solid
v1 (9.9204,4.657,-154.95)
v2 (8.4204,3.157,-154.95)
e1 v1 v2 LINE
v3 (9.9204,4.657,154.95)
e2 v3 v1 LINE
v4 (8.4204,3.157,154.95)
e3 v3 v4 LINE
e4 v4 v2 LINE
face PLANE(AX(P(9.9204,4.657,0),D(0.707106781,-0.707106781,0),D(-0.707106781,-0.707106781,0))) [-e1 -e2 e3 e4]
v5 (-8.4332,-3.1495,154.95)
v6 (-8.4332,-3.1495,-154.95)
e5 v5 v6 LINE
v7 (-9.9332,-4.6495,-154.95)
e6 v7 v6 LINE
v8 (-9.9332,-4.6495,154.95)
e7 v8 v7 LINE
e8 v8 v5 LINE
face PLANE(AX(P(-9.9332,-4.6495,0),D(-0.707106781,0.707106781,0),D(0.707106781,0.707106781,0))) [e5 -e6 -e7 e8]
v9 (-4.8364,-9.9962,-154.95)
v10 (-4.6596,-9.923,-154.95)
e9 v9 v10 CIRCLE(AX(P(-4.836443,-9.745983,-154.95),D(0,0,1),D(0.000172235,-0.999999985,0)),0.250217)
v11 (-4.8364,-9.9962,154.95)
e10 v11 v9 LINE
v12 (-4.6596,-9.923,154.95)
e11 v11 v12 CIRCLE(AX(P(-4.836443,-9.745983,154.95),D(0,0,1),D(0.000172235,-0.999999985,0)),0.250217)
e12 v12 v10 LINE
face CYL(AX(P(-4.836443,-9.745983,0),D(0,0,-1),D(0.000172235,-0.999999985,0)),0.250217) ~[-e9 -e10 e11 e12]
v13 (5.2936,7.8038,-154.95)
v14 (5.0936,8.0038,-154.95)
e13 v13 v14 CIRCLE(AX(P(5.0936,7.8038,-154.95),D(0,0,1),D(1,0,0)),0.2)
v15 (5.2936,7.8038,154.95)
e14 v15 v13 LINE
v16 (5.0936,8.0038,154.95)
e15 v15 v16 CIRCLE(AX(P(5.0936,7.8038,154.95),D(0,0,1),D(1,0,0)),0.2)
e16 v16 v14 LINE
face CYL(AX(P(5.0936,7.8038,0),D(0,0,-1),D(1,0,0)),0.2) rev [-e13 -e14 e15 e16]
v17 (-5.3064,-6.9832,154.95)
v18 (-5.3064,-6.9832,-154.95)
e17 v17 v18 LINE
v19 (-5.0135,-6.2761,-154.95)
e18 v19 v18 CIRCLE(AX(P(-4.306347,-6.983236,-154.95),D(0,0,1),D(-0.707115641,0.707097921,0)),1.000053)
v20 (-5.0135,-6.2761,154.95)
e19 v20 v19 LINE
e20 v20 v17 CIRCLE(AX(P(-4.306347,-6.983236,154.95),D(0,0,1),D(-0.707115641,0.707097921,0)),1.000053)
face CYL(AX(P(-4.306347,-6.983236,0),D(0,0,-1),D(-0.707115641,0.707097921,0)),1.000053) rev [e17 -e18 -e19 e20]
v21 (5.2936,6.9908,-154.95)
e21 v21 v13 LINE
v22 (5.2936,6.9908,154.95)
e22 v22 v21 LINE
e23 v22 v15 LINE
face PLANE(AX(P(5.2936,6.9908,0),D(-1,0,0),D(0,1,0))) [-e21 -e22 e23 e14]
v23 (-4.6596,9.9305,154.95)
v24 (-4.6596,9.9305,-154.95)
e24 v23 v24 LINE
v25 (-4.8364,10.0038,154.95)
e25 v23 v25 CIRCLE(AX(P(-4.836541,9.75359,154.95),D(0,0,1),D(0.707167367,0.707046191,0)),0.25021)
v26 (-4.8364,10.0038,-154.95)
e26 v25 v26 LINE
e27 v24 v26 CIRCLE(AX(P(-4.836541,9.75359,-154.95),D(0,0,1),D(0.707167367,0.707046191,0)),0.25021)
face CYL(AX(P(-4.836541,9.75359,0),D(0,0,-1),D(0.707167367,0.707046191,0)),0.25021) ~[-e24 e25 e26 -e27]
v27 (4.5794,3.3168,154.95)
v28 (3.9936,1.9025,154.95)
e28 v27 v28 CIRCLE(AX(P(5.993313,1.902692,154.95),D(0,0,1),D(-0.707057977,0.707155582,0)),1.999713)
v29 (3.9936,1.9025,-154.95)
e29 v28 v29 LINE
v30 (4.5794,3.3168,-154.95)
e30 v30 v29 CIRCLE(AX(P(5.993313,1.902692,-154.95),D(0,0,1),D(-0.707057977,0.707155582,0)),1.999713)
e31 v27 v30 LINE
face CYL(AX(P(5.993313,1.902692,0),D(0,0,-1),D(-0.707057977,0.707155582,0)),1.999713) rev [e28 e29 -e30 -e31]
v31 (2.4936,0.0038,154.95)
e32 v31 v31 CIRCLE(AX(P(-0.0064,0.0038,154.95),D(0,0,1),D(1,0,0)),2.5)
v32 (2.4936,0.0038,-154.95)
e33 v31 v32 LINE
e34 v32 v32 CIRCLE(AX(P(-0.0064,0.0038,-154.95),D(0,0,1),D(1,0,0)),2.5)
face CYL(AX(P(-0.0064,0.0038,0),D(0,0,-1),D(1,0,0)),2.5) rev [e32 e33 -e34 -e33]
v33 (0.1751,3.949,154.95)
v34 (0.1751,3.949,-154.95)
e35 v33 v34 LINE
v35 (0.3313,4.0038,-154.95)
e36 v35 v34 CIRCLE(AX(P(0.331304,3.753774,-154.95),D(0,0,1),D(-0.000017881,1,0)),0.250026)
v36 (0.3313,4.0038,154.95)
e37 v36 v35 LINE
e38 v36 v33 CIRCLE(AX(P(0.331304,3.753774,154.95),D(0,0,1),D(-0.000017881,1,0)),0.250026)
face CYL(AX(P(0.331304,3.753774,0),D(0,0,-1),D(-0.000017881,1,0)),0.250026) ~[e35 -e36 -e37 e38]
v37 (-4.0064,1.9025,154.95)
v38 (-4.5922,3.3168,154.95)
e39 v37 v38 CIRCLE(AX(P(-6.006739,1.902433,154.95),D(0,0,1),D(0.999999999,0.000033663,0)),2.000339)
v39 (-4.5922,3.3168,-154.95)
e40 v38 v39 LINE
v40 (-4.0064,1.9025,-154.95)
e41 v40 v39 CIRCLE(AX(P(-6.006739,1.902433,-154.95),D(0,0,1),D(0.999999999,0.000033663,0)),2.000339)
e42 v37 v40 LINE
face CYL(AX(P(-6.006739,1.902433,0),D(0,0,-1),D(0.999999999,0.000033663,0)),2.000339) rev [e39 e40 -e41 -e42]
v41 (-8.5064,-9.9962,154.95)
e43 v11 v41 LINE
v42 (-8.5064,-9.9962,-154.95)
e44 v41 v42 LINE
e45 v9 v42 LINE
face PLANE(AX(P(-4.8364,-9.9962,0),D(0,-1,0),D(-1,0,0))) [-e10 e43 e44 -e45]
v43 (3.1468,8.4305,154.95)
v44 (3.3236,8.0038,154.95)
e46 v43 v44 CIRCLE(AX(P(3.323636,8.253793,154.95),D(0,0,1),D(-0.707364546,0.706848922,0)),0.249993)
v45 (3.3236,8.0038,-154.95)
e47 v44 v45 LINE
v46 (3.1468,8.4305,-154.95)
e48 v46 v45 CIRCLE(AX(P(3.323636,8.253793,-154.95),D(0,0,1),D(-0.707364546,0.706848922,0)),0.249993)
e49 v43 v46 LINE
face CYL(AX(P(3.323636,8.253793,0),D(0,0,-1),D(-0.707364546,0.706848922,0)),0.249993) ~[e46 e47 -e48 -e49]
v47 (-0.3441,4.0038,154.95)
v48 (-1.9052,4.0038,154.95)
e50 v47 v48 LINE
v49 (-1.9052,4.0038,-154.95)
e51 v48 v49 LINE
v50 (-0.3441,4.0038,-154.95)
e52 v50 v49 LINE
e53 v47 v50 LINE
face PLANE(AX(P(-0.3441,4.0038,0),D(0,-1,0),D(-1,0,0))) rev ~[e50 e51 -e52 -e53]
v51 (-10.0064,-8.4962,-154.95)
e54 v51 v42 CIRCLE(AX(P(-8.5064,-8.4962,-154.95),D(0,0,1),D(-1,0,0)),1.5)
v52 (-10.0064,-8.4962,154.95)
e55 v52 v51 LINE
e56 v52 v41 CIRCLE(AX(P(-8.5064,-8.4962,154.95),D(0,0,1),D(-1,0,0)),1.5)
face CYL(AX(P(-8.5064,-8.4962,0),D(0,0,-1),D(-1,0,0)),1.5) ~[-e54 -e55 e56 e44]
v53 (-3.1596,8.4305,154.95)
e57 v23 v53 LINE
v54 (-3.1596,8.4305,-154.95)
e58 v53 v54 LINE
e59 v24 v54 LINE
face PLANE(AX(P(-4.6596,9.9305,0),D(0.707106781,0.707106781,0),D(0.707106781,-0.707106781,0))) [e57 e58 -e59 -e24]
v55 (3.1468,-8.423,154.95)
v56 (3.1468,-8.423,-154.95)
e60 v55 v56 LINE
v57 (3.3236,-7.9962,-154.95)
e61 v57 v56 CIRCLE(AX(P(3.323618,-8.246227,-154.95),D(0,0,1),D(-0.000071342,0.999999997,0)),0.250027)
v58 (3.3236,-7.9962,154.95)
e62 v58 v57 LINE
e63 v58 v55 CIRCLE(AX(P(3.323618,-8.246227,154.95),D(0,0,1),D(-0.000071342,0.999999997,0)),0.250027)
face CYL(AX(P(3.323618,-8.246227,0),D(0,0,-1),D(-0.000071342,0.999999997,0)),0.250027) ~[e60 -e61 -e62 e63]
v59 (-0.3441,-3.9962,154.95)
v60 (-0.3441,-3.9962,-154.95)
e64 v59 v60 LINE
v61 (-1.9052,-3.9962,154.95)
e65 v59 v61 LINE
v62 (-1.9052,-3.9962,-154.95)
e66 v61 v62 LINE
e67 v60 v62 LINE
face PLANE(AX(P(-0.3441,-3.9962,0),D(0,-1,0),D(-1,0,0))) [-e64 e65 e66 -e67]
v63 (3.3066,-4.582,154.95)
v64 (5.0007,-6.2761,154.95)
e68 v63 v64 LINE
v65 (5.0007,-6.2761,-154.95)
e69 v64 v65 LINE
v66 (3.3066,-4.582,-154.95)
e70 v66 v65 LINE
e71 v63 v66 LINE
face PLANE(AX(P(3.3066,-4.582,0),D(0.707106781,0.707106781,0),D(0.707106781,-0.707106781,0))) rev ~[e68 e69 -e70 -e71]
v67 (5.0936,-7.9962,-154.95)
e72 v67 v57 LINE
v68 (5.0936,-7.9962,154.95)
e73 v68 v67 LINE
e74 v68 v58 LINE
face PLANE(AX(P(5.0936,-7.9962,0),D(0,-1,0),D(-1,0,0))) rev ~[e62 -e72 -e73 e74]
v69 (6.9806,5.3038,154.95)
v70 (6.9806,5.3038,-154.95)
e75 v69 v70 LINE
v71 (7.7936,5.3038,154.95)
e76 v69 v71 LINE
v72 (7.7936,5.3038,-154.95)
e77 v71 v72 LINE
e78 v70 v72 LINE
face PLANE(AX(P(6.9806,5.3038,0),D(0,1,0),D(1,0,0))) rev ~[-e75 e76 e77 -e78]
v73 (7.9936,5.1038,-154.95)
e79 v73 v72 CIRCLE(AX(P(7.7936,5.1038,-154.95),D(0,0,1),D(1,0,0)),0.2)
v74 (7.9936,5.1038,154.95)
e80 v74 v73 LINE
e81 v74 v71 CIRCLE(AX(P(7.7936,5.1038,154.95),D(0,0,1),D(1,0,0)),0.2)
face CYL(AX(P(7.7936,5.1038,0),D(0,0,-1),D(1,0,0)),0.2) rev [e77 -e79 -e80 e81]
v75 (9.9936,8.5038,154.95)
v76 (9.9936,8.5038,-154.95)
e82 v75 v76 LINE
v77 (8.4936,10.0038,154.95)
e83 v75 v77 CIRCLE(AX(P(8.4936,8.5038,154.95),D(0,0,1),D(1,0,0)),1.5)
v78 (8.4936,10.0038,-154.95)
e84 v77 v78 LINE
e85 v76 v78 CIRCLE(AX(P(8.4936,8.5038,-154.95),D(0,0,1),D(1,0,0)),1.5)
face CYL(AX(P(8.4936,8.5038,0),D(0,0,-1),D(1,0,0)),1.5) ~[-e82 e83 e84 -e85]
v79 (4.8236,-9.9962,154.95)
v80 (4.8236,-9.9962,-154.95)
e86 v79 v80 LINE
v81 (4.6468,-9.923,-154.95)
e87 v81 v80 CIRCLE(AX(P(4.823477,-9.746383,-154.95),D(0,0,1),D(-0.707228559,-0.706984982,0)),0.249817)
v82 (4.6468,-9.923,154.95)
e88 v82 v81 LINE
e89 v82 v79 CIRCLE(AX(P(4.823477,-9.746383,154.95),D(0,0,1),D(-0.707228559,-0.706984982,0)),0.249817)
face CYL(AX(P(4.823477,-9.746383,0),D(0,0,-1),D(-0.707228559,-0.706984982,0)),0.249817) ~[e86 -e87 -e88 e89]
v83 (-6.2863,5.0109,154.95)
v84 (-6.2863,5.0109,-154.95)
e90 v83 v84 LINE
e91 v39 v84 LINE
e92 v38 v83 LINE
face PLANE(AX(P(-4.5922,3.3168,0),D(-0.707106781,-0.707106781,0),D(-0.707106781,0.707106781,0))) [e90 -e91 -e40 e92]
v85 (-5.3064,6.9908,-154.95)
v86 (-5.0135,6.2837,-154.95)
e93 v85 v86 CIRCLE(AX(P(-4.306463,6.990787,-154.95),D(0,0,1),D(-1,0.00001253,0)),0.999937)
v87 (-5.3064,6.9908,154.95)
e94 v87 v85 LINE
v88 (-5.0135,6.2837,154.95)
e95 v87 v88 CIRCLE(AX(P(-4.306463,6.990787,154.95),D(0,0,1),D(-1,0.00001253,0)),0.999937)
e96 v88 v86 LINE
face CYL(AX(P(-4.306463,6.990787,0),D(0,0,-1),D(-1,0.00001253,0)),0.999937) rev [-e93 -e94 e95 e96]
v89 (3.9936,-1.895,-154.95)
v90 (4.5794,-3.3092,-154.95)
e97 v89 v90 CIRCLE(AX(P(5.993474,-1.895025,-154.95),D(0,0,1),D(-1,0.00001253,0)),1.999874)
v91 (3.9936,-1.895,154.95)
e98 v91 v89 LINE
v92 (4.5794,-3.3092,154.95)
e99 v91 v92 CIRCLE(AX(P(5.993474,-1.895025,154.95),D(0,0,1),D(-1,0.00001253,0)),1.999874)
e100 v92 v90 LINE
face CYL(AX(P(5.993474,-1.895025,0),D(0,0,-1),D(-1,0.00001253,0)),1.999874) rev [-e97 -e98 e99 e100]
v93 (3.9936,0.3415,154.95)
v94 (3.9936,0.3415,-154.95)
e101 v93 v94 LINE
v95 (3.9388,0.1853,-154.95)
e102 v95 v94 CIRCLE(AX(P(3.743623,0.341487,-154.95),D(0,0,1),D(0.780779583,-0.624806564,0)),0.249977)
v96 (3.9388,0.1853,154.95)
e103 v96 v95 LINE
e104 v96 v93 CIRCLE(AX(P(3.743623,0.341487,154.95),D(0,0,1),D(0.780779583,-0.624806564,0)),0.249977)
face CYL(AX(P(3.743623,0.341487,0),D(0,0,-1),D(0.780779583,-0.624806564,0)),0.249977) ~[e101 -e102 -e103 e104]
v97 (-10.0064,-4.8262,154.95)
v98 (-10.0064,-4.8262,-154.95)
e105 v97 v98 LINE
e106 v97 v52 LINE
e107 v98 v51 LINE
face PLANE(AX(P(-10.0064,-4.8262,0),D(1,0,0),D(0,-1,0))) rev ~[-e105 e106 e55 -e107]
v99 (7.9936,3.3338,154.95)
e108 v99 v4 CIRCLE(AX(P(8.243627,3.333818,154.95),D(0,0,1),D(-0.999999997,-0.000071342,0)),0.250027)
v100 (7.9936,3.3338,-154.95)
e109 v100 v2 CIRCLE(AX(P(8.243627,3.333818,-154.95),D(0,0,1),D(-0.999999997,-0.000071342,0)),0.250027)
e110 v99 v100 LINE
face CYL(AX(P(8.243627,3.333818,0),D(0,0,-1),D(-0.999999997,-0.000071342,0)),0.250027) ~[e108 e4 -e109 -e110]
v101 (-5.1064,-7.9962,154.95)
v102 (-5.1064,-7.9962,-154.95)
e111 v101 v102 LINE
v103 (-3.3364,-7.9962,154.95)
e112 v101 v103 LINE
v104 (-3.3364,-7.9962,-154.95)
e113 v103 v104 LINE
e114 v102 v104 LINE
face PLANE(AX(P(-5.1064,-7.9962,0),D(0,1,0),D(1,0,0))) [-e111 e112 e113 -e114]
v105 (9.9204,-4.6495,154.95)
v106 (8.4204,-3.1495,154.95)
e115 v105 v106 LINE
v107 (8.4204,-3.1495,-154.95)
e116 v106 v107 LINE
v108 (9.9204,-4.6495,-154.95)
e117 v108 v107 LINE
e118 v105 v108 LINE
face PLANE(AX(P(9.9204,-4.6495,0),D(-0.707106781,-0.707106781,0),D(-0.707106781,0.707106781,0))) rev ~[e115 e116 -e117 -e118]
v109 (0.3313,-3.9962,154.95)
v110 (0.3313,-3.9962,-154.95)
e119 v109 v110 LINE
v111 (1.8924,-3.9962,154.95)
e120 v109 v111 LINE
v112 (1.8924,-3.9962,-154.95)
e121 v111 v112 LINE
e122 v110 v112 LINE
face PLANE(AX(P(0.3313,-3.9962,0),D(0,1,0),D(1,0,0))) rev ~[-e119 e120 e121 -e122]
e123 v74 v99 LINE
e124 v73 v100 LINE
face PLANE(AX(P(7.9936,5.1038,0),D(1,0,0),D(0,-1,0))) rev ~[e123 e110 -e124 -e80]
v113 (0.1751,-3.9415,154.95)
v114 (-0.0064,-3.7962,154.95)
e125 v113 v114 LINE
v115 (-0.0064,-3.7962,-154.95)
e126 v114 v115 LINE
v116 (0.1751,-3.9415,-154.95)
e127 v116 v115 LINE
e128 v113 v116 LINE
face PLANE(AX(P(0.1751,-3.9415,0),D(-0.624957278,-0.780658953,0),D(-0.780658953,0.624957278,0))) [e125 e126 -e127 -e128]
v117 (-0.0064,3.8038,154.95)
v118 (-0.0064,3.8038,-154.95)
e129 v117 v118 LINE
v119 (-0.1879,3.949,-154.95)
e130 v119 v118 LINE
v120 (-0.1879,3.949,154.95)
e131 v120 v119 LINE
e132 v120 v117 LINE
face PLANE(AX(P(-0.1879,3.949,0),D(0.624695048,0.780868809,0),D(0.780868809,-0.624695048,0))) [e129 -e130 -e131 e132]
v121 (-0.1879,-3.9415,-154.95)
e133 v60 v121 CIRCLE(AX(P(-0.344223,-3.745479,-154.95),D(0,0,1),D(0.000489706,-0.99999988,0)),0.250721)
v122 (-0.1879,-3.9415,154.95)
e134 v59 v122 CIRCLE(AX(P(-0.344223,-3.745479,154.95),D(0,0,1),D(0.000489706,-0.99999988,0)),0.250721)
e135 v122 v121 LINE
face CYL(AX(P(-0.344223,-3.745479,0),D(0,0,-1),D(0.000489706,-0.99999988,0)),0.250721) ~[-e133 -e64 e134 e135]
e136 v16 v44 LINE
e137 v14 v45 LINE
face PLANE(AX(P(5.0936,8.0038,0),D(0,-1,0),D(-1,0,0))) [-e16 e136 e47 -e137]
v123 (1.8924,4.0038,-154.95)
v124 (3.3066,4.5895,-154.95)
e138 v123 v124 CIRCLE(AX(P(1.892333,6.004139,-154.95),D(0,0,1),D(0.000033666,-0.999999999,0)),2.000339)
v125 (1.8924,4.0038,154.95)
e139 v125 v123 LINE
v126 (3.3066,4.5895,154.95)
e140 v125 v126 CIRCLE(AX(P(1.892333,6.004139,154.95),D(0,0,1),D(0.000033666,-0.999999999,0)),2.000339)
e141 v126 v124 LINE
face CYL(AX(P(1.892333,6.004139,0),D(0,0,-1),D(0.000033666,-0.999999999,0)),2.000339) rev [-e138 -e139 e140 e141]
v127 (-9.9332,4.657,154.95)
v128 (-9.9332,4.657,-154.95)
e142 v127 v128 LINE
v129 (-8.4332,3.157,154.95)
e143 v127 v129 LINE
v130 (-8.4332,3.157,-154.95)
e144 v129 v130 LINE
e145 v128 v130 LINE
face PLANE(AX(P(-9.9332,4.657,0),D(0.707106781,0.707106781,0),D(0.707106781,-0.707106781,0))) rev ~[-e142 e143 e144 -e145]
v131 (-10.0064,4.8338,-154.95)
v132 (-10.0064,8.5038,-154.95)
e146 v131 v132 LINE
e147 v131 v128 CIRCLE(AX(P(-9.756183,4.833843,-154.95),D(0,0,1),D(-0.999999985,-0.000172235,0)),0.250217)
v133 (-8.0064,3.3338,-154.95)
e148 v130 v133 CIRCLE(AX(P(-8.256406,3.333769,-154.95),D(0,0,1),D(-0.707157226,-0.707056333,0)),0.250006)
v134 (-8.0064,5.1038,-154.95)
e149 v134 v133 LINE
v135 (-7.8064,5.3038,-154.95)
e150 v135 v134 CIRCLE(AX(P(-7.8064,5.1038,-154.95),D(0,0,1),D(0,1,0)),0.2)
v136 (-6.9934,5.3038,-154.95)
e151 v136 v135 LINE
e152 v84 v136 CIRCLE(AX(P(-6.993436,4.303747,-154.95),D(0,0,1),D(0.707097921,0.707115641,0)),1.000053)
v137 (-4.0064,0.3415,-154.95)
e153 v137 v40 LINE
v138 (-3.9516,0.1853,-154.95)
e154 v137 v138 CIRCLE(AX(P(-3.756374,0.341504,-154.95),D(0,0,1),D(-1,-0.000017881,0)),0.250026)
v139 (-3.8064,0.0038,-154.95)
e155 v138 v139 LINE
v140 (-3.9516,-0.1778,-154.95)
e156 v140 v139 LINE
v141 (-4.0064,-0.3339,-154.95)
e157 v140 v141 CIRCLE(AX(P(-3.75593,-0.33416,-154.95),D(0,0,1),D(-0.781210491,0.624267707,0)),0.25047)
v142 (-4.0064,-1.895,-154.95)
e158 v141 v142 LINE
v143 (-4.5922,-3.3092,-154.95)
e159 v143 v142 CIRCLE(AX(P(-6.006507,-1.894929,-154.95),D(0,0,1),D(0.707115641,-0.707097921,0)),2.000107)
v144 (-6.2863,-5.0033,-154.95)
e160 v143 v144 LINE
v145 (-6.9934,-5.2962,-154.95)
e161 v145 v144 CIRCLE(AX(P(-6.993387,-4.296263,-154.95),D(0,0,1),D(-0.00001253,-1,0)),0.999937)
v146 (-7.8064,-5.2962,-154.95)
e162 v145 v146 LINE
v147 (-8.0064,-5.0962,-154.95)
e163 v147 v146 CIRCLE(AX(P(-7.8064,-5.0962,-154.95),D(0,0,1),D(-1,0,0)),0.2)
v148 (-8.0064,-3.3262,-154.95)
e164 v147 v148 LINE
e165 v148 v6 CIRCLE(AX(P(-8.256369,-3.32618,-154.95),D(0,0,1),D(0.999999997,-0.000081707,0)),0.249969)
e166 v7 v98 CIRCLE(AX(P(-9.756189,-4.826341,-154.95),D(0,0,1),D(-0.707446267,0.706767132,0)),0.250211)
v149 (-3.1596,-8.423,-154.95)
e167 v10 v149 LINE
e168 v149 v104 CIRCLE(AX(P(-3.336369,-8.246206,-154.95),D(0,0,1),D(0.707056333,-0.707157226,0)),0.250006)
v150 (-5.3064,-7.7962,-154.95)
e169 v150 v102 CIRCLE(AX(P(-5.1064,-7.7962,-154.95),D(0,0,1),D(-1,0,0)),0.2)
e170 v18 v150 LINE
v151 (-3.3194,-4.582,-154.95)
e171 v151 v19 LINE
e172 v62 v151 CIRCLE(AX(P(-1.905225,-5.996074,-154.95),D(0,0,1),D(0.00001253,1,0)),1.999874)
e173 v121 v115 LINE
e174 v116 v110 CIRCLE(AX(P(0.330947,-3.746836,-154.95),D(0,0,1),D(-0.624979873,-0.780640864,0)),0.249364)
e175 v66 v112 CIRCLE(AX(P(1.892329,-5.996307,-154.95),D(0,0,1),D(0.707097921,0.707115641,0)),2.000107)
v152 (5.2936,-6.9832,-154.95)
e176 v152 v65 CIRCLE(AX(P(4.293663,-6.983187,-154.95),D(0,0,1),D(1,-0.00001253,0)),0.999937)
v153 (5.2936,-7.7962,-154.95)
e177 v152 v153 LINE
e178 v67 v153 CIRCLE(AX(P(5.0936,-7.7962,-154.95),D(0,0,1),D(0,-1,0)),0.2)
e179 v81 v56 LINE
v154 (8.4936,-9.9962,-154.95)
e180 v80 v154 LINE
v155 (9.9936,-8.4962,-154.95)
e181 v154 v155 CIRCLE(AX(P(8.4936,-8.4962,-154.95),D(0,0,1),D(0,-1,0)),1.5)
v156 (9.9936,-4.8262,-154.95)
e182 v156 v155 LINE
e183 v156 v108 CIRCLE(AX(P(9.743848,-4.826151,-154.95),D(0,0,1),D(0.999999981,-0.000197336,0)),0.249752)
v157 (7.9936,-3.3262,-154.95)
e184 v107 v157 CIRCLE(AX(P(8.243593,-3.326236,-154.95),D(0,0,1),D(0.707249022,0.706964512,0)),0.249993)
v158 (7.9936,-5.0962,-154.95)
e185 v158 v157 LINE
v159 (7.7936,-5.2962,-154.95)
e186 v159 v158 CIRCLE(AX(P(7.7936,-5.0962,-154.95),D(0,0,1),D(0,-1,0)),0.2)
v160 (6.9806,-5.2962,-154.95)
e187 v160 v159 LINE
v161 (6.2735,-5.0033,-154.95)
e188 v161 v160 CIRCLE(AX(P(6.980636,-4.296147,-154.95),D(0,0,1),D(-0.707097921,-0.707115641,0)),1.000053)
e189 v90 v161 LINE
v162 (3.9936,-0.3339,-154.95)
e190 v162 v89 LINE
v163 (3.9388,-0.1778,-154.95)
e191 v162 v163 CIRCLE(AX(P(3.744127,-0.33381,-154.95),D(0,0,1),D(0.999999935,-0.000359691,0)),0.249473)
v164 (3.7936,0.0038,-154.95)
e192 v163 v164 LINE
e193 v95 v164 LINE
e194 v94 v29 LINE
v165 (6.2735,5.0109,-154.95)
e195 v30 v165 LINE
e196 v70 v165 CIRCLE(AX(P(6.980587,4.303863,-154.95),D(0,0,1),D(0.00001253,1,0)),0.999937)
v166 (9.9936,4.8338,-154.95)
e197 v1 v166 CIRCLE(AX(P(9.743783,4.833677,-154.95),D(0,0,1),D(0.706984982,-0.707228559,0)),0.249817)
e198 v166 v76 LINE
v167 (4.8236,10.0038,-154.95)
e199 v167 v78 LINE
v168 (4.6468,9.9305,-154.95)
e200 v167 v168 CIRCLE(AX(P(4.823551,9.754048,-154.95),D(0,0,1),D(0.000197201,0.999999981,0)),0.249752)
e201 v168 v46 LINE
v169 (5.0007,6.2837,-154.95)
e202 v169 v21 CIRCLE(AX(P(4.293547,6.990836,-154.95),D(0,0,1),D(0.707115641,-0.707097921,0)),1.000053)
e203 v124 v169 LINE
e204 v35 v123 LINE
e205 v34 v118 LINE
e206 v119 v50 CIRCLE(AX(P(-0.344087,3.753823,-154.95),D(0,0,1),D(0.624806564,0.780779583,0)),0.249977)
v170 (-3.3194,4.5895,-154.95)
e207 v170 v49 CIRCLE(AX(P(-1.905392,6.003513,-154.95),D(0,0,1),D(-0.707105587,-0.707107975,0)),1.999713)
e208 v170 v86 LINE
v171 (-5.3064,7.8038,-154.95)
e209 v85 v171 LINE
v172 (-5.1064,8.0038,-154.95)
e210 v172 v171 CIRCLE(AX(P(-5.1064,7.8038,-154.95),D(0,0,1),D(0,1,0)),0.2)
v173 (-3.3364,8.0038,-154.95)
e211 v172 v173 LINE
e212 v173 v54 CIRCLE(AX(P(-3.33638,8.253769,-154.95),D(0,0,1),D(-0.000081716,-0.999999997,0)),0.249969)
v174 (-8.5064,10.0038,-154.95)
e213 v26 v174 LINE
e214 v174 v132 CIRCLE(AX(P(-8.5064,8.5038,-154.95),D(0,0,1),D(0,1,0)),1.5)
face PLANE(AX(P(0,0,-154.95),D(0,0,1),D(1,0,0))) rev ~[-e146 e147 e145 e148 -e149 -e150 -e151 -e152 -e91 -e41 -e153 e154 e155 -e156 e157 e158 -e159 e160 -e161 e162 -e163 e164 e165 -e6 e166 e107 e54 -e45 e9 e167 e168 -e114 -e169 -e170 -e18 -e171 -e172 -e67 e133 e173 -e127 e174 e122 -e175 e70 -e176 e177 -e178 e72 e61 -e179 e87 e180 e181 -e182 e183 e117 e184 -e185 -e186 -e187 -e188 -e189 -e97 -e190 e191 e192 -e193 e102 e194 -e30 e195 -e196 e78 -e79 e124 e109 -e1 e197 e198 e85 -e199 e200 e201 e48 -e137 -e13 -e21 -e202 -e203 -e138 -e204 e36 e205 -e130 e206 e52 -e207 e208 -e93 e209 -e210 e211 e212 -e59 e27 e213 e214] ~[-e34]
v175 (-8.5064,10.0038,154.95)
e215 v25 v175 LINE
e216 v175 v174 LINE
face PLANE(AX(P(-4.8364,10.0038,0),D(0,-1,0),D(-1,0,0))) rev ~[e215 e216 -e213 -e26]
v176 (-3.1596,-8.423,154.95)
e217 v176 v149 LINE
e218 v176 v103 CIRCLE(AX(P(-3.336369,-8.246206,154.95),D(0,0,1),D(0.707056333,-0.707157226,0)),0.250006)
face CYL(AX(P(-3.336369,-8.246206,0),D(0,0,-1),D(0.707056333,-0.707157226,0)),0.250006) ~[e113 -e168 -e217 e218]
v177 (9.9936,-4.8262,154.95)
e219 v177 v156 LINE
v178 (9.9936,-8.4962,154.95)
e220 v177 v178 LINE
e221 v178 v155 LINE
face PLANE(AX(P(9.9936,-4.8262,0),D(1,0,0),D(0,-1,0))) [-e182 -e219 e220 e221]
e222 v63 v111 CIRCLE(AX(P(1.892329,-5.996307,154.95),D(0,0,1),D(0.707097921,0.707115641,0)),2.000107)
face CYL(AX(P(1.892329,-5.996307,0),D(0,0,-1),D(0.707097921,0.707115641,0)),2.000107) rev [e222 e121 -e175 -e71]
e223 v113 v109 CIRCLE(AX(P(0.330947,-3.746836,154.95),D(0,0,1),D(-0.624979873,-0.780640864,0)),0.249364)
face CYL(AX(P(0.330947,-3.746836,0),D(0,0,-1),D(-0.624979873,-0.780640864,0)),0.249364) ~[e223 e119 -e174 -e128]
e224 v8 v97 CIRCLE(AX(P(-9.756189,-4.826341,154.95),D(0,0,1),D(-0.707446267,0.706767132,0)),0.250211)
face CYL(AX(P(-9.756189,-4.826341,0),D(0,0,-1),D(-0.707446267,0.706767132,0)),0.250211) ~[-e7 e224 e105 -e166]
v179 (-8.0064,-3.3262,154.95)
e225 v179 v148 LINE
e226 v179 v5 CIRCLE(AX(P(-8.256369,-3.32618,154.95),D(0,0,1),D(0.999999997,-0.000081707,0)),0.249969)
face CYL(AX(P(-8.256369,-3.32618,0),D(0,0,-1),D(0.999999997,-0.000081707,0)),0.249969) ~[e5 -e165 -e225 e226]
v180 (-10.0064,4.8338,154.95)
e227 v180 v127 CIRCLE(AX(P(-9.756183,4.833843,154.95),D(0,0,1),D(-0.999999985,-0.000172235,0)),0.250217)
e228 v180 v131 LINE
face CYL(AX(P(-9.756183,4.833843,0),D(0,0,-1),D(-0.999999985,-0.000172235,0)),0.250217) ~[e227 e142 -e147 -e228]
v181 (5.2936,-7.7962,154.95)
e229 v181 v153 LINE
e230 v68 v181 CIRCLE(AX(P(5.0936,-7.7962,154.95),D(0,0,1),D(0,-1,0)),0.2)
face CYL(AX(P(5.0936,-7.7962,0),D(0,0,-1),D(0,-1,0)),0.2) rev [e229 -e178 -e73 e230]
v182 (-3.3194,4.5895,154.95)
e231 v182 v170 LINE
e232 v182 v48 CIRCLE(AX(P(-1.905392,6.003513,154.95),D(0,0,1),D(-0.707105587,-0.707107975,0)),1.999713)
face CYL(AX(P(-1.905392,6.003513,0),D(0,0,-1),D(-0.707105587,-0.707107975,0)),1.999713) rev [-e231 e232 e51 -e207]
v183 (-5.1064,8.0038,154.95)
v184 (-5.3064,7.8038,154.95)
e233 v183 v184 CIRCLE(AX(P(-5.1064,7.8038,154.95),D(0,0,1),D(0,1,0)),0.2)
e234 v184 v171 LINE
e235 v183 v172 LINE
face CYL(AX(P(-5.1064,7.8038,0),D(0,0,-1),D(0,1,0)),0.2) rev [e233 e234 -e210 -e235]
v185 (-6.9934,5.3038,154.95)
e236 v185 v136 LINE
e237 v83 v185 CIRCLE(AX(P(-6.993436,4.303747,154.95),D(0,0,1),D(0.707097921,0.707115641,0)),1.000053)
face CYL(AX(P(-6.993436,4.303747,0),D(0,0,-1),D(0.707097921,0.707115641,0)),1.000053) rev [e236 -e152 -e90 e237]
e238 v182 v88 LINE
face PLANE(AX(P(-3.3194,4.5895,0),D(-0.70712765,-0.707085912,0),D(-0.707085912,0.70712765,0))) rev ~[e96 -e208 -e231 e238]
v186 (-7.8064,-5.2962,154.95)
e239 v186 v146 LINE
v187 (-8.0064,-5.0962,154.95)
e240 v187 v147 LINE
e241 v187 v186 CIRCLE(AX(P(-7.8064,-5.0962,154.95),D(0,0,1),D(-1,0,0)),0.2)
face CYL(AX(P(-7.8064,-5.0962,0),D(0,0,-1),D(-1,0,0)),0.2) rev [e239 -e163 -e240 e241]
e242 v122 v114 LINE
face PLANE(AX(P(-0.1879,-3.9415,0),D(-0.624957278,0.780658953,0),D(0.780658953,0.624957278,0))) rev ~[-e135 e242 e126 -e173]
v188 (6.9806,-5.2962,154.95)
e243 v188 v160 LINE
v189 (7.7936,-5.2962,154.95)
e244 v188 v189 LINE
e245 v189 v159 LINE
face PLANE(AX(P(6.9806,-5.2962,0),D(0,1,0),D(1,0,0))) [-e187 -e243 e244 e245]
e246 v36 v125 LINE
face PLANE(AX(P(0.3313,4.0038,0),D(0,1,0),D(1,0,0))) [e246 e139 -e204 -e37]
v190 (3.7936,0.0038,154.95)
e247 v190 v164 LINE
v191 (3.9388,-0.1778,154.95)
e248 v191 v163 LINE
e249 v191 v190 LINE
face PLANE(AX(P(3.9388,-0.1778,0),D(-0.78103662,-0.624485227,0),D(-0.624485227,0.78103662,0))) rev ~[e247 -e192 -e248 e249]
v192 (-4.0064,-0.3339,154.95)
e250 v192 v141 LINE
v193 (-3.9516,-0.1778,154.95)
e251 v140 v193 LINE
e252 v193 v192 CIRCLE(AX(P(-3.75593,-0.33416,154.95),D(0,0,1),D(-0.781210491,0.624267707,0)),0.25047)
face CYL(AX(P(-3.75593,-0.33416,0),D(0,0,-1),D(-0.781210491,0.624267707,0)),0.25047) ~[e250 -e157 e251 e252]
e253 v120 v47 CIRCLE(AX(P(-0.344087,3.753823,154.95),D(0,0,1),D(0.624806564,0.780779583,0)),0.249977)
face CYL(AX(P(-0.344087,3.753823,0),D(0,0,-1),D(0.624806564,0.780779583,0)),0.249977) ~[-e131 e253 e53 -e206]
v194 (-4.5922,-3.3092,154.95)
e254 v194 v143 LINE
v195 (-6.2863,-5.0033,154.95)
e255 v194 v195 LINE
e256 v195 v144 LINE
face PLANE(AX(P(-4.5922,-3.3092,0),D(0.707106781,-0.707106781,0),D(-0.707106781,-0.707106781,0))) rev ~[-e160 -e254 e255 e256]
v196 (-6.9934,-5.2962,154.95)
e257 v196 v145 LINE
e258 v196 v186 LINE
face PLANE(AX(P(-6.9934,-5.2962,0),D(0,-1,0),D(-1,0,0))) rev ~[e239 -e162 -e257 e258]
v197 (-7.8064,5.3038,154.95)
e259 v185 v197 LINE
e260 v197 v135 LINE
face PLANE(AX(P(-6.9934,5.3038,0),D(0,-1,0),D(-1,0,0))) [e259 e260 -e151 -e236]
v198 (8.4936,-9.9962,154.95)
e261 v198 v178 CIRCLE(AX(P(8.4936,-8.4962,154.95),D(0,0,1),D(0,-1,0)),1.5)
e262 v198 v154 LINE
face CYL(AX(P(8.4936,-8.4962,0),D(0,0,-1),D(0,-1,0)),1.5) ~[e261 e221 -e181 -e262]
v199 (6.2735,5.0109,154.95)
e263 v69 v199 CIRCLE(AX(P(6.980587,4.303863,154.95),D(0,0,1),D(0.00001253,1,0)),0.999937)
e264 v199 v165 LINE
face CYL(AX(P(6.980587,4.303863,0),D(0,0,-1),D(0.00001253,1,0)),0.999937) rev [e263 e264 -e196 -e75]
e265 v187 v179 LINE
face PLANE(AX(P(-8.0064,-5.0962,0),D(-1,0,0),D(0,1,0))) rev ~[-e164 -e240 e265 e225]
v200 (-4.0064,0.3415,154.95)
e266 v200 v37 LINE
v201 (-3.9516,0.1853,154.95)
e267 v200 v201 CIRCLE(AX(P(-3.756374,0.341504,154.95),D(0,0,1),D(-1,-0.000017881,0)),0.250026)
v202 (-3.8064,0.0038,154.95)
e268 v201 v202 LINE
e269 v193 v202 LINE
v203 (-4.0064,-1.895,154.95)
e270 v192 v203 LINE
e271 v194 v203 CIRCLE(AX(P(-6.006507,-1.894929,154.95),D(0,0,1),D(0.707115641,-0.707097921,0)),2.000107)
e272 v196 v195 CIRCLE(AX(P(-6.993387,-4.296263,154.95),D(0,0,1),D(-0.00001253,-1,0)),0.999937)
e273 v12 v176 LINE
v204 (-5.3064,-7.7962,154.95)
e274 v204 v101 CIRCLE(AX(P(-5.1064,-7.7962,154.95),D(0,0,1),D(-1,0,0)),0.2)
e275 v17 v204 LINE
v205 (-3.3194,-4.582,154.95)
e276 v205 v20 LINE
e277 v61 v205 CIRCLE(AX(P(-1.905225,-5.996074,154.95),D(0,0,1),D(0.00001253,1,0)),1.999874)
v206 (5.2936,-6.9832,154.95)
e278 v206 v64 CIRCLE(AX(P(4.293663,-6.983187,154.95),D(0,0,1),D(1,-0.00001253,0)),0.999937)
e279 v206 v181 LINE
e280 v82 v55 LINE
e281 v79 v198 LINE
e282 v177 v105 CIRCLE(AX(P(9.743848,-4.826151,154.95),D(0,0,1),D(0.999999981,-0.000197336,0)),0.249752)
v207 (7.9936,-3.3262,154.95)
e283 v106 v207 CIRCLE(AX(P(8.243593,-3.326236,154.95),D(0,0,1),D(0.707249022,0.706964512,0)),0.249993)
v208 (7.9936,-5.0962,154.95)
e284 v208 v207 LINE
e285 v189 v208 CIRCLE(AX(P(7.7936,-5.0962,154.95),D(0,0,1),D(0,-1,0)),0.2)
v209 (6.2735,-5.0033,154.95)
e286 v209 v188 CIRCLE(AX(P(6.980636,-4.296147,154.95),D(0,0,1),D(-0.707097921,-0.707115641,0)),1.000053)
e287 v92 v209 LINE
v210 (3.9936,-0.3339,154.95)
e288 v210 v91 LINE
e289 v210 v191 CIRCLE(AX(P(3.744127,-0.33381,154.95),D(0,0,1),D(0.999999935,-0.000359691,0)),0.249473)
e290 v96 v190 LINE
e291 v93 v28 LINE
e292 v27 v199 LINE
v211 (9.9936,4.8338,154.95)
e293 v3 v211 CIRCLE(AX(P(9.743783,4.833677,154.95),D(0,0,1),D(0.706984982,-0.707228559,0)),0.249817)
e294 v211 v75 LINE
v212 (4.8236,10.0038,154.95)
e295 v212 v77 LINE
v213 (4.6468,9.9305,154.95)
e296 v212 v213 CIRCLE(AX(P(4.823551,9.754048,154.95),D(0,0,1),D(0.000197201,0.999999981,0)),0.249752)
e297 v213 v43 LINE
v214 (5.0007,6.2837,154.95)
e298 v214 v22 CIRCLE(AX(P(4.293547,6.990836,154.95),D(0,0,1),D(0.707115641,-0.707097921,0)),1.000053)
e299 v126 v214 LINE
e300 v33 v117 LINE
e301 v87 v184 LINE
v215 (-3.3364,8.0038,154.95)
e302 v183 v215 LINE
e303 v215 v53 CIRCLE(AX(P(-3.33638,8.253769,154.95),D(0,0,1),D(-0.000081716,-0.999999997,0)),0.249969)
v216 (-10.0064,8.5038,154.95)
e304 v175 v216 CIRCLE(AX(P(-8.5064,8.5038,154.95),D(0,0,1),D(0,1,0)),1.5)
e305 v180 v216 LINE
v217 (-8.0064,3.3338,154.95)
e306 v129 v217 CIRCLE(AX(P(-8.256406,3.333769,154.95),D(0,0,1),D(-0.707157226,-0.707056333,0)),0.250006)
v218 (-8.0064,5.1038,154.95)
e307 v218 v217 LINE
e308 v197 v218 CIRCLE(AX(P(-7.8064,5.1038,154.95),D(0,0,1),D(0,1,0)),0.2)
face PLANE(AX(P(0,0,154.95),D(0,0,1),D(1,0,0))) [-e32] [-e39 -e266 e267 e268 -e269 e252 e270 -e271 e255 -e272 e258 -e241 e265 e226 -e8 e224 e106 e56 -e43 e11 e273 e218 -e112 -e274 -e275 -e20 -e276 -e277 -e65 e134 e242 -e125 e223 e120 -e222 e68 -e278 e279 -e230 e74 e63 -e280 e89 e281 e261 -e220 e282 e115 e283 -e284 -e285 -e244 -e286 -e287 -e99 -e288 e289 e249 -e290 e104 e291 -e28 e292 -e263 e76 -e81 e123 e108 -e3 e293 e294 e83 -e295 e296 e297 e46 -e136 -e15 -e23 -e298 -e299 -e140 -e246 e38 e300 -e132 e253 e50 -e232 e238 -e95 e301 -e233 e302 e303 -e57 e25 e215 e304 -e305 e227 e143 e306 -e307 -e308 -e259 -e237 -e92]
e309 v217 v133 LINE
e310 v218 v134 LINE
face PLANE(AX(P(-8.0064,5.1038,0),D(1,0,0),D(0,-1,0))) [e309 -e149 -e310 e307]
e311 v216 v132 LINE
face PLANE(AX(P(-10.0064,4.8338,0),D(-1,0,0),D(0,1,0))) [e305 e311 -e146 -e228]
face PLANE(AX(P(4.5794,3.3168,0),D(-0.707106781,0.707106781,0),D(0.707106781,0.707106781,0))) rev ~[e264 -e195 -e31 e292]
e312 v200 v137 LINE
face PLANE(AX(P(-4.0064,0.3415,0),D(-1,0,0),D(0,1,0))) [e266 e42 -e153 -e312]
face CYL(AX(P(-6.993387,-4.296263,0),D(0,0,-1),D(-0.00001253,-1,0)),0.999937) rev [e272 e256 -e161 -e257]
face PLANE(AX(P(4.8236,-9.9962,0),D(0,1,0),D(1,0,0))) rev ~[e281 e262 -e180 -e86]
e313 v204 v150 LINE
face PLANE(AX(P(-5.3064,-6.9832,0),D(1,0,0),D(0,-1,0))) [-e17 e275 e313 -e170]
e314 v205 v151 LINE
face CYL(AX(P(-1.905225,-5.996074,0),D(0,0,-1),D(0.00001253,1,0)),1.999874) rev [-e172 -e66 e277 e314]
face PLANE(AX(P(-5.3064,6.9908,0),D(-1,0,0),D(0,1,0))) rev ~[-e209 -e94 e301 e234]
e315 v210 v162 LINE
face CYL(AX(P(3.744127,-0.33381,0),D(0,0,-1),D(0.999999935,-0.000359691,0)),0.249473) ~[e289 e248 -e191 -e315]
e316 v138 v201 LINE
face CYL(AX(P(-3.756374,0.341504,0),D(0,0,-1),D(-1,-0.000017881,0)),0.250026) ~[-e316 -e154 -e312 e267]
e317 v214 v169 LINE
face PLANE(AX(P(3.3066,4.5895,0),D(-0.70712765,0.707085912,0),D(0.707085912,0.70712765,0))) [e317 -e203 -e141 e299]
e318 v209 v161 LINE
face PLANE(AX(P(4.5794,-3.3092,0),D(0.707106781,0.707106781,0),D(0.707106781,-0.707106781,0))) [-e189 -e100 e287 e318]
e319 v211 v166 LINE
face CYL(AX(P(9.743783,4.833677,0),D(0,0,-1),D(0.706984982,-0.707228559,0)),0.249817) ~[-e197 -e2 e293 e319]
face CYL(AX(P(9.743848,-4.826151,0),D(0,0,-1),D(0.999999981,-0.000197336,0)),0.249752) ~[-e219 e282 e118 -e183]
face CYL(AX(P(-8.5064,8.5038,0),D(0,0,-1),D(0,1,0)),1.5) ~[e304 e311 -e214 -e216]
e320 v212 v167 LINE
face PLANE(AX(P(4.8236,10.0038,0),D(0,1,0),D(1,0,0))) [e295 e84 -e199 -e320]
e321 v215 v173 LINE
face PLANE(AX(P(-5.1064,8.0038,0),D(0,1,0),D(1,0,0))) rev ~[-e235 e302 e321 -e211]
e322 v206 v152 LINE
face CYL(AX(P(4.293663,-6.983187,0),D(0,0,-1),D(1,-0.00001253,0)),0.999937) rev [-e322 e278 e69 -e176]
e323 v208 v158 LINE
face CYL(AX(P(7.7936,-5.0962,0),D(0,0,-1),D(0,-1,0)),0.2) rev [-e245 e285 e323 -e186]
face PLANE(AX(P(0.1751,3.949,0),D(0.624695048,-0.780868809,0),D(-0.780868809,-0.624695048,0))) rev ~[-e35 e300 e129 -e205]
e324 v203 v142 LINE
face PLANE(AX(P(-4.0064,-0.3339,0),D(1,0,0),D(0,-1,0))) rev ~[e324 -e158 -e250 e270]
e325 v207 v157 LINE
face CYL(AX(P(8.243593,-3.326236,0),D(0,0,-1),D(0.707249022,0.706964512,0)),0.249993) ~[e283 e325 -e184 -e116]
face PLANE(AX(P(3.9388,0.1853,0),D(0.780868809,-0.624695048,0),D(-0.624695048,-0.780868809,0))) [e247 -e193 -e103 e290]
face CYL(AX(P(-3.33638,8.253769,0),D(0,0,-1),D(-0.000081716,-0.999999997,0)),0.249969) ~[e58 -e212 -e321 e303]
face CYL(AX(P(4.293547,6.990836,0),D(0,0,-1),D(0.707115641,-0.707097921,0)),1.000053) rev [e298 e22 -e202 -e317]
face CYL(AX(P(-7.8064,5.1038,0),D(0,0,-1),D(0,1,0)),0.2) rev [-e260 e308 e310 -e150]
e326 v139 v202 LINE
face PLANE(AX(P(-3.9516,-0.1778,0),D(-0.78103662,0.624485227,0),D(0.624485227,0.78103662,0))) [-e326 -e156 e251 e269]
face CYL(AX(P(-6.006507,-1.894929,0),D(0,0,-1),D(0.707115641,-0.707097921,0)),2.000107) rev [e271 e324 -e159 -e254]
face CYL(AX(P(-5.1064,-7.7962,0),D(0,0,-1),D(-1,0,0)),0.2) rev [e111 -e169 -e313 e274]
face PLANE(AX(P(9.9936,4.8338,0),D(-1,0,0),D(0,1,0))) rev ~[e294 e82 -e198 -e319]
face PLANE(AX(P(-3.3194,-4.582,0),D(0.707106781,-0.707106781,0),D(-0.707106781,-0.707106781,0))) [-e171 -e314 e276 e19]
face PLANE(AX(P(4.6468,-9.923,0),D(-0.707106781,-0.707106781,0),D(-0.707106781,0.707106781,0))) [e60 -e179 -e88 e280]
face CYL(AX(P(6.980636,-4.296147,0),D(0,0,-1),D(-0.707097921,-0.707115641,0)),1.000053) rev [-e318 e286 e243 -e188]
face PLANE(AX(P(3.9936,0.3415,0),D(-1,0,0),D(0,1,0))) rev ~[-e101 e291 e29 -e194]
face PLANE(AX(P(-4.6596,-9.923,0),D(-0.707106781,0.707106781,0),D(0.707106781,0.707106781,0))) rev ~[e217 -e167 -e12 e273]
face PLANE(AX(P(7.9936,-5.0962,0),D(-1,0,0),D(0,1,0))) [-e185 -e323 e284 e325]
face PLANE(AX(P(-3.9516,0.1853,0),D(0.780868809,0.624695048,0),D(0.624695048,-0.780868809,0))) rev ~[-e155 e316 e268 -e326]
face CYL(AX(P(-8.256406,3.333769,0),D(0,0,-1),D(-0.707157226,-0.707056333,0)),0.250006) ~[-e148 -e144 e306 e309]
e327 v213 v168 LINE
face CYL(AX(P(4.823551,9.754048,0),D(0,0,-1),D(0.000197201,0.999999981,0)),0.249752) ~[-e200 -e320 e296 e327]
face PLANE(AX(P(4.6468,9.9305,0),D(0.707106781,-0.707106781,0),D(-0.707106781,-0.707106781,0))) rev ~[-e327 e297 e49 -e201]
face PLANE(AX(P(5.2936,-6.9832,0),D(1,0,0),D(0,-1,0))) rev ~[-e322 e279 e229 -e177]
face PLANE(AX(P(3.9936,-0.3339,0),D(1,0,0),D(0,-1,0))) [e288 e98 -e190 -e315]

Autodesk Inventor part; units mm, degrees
ref_plane "YZ Plane" through (0, 0, 0) normal (1, 0, 0) x (0, 1, 0)
ref_plane "XZ Plane" through (0, 0, 0) normal (0, 1, 0) x (-1, 0, 0)
ref_plane "XY Plane" through (0, 0, 0) normal (0, 0, 1) x (1, 0, 0)
sketch "Эскиз1" plane through (0, 0, 0) normal (0, 0, 1) x (1, 0, 0)
  line L0 (-3.9516, 0.1853) -> (-3.8064, 0.0038)
  line L1 (-3.9516, -0.1778) -> (-3.8064, 0.0038)
  arc A0 (-3.9516, -0.1778) -> (-4.0064, -0.3339) centre (-3.7564, -0.3339) ccw
  line L2 (-4.0064, -0.3339) -> (-4.0064, -1.895)
  arc A1 (-4.5922, -3.3092) -> (-4.0064, -1.895) centre (-6.0064, -1.895) ccw
  line L3 (-4.5922, -3.3092) -> (-6.2863, -5.0033)
  arc A2 (-6.9934, -5.2962) -> (-6.2863, -5.0033) centre (-6.9934, -4.2962) ccw
  line L4 (-6.9934, -5.2962) -> (-7.8064, -5.2962)
  arc A3 (-8.0064, -5.0962) -> (-7.8064, -5.2962) centre (-7.8064, -5.0962) ccw
  line L5 (-8.0064, -5.0962) -> (-8.0064, -3.3262)
  arc A4 (-8.0064, -3.3262) -> (-8.4332, -3.1495) centre (-8.2564, -3.3262) ccw
  line L6 (-9.9332, -4.6495) -> (-8.4332, -3.1495)
  arc A5 (-9.9332, -4.6495) -> (-10.0064, -4.8262) centre (-9.7564, -4.8262) ccw
  line L7 (-10.0064, -4.8262) -> (-10.0064, -8.4962)
  arc A6 (-10.0064, -8.4962) -> (-8.5064, -9.9962) centre (-8.5064, -8.4962) ccw
  line L8 (-4.8364, -9.9962) -> (-8.5064, -9.9962)
  arc A7 (-4.8364, -9.9962) -> (-4.6596, -9.923) centre (-4.8364, -9.7462) ccw
  line L9 (-4.6596, -9.923) -> (-3.1596, -8.423)
  arc A8 (-3.1596, -8.423) -> (-3.3364, -7.9962) centre (-3.3364, -8.2462) ccw
  line L10 (-5.1064, -7.9962) -> (-3.3364, -7.9962)
  arc A9 (-5.3064, -7.7962) -> (-5.1064, -7.9962) centre (-5.1064, -7.7962) ccw
  line L11 (-5.3064, -6.9832) -> (-5.3064, -7.7962)
  arc A10 (-5.0135, -6.2761) -> (-5.3064, -6.9832) centre (-4.3064, -6.9832) ccw
  line L12 (-3.3194, -4.582) -> (-5.0135, -6.2761)
  arc A11 (-1.9052, -3.9962) -> (-3.3194, -4.582) centre (-1.9052, -5.9962) ccw
  line L13 (-0.3441, -3.9962) -> (-1.9052, -3.9962)
  arc A12 (-0.3441, -3.9962) -> (-0.1879, -3.9415) centre (-0.3441, -3.7462) ccw
  line L14 (-0.1879, -3.9415) -> (-0.0064, -3.7962)
  line L15 (0.1751, -3.9415) -> (-0.0064, -3.7962)
  arc A13 (0.1751, -3.9415) -> (0.3313, -3.9962) centre (0.3313, -3.7462) ccw
  line L16 (0.3313, -3.9962) -> (1.8924, -3.9962)
  arc A14 (3.3066, -4.582) -> (1.8924, -3.9962) centre (1.8924, -5.9962) ccw
  line L17 (3.3066, -4.582) -> (5.0007, -6.2761)
  arc A15 (5.2936, -6.9832) -> (5.0007, -6.2761) centre (4.2936, -6.9832) ccw
  line L18 (5.2936, -6.9832) -> (5.2936, -7.7962)
  arc A16 (5.0936, -7.9962) -> (5.2936, -7.7962) centre (5.0936, -7.7962) ccw
  line L19 (5.0936, -7.9962) -> (3.3236, -7.9962)
  arc A17 (3.3236, -7.9962) -> (3.1468, -8.423) centre (3.3236, -8.2462) ccw
  line L20 (4.6468, -9.923) -> (3.1468, -8.423)
  arc A18 (4.6468, -9.923) -> (4.8236, -9.9962) centre (4.8236, -9.7462) ccw
  line L21 (4.8236, -9.9962) -> (8.4936, -9.9962)
  arc A19 (8.4936, -9.9962) -> (9.9936, -8.4962) centre (8.4936, -8.4962) ccw
  line L22 (9.9936, -4.8262) -> (9.9936, -8.4962)
  arc A20 (9.9936, -4.8262) -> (9.9204, -4.6495) centre (9.7436, -4.8262) ccw
  line L23 (9.9204, -4.6495) -> (8.4204, -3.1495)
  arc A21 (8.4204, -3.1495) -> (7.9936, -3.3262) centre (8.2436, -3.3262) ccw
  line L24 (7.9936, -5.0962) -> (7.9936, -3.3262)
  arc A22 (7.7936, -5.2962) -> (7.9936, -5.0962) centre (7.7936, -5.0962) ccw
  line L25 (6.9806, -5.2962) -> (7.7936, -5.2962)
  arc A23 (6.2735, -5.0033) -> (6.9806, -5.2962) centre (6.9806, -4.2962) ccw
  line L26 (4.5794, -3.3092) -> (6.2735, -5.0033)
  arc A24 (3.9936, -1.895) -> (4.5794, -3.3092) centre (5.9936, -1.895) ccw
  line L27 (3.9936, -0.3339) -> (3.9936, -1.895)
  arc A25 (3.9936, -0.3339) -> (3.9388, -0.1778) centre (3.7436, -0.3339) ccw
  line L28 (3.9388, -0.1778) -> (3.7936, 0.0038)
  line L29 (3.9388, 0.1853) -> (3.7936, 0.0038)
  arc A26 (3.9388, 0.1853) -> (3.9936, 0.3415) centre (3.7436, 0.3415) ccw
  line L30 (3.9936, 0.3415) -> (3.9936, 1.9025)
  arc A27 (4.5794, 3.3168) -> (3.9936, 1.9025) centre (5.9936, 1.9025) ccw
  line L31 (4.5794, 3.3168) -> (6.2735, 5.0109)
  arc A28 (6.9806, 5.3038) -> (6.2735, 5.0109) centre (6.9806, 4.3038) ccw
  line L32 (6.9806, 5.3038) -> (7.7936, 5.3038)
  arc A29 (7.9936, 5.1038) -> (7.7936, 5.3038) centre (7.7936, 5.1038) ccw
  line L33 (7.9936, 5.1038) -> (7.9936, 3.3338)
  arc A30 (7.9936, 3.3338) -> (8.4204, 3.157) centre (8.2436, 3.3338) ccw
  line L34 (9.9204, 4.657) -> (8.4204, 3.157)
  arc A31 (9.9204, 4.657) -> (9.9936, 4.8338) centre (9.7436, 4.8338) ccw
  line L35 (9.9936, 4.8338) -> (9.9936, 8.5038)
  arc A32 (9.9936, 8.5038) -> (8.4936, 10.0038) centre (8.4936, 8.5038) ccw
  line L36 (4.8236, 10.0038) -> (8.4936, 10.0038)
  arc A33 (4.8236, 10.0038) -> (4.6468, 9.9305) centre (4.8236, 9.7538) ccw
  line L37 (4.6468, 9.9305) -> (3.1468, 8.4305)
  arc A34 (3.1468, 8.4305) -> (3.3236, 8.0038) centre (3.3236, 8.2538) ccw
  line L38 (5.0936, 8.0038) -> (3.3236, 8.0038)
  arc A35 (5.2936, 7.8038) -> (5.0936, 8.0038) centre (5.0936, 7.8038) ccw
  line L39 (5.2936, 6.9908) -> (5.2936, 7.8038)
  arc A36 (5.0007, 6.2837) -> (5.2936, 6.9908) centre (4.2936, 6.9908) ccw
  line L40 (3.3066, 4.5895) -> (5.0007, 6.2837)
  arc A37 (1.8924, 4.0038) -> (3.3066, 4.5895) centre (1.8924, 6.0038) ccw
  line L41 (0.3313, 4.0038) -> (1.8924, 4.0038)
  arc A38 (0.3313, 4.0038) -> (0.1751, 3.949) centre (0.3313, 3.7538) ccw
  line L42 (0.1751, 3.949) -> (-0.0064, 3.8038)
  line L43 (-0.1879, 3.949) -> (-0.0064, 3.8038)
  arc A39 (-0.1879, 3.949) -> (-0.3441, 4.0038) centre (-0.3441, 3.7538) ccw
  line L44 (-0.3441, 4.0038) -> (-1.9052, 4.0038)
  arc A40 (-3.3194, 4.5895) -> (-1.9052, 4.0038) centre (-1.9052, 6.0038) ccw
  line L45 (-3.3194, 4.5895) -> (-5.0135, 6.2837)
  arc A41 (-5.3064, 6.9908) -> (-5.0135, 6.2837) centre (-4.3064, 6.9908) ccw
  line L46 (-5.3064, 6.9908) -> (-5.3064, 7.8038)
  arc A42 (-5.1064, 8.0038) -> (-5.3064, 7.8038) centre (-5.1064, 7.8038) ccw
  line L47 (-5.1064, 8.0038) -> (-3.3364, 8.0038)
  arc A43 (-3.3364, 8.0038) -> (-3.1596, 8.4305) centre (-3.3364, 8.2538) ccw
  line L48 (-4.6596, 9.9305) -> (-3.1596, 8.4305)
  arc A44 (-4.6596, 9.9305) -> (-4.8364, 10.0038) centre (-4.8364, 9.7538) ccw
  line L49 (-4.8364, 10.0038) -> (-8.5064, 10.0038)
  arc A45 (-8.5064, 10.0038) -> (-10.0064, 8.5038) centre (-8.5064, 8.5038) ccw
  line L50 (-10.0064, 4.8338) -> (-10.0064, 8.5038)
  arc A46 (-10.0064, 4.8338) -> (-9.9332, 4.657) centre (-9.7564, 4.8338) ccw
  line L51 (-9.9332, 4.657) -> (-8.4332, 3.157)
  arc A47 (-8.4332, 3.157) -> (-8.0064, 3.3338) centre (-8.2564, 3.3338) ccw
  line L52 (-8.0064, 5.1038) -> (-8.0064, 3.3338)
  arc A48 (-7.8064, 5.3038) -> (-8.0064, 5.1038) centre (-7.8064, 5.1038) ccw
  line L53 (-6.9934, 5.3038) -> (-7.8064, 5.3038)
  arc A49 (-6.2863, 5.0109) -> (-6.9934, 5.3038) centre (-6.9934, 4.3038) ccw
  line L54 (-4.5922, 3.3168) -> (-6.2863, 5.0109)
  arc A50 (-4.0064, 1.9025) -> (-4.5922, 3.3168) centre (-6.0064, 1.9025) ccw
  line L55 (-4.0064, 0.3415) -> (-4.0064, 1.9025)
  arc A51 (-4.0064, 0.3415) -> (-3.9516, 0.1853) centre (-3.7564, 0.3415) ccw
  circle A52 centre (-0.0064, 0.0038) radius 2.5
  point P0 (0, 0)
  point P1 (-0.0064, 0.0038)
  dimension "d0" = 0.25
  dimension "d1" = 1.5
  dimension "d2" = 0.2
  dimension "d3" = 1
  dimension "d4" = 2
  dimension "d5" = 5
  dimension "d6" = 135
  dimension "d7" = 38.66
  dimension "d8" = 38.66
  dimension "d9" = 45
  dimension "d10" = 2
  dimension "d11" = 4.7
  dimension "d12" = 14
  dimension "d13" = 15.3
  dimension "d14" = 20
  dimension "d15" = 2.829
  dimension "d16" = 4.629
  dimension "d17" = 7.4579
  dimension "d18" = 2.829
  dimension "d19" = 4.629
  dimension "d20" = 7.4579
  dimension "d21" = 10.6
  dimension "d22" = 4.7
  dimension "d23" = 15.3
  dimension "d24" = 2.7
  dimension "d25" = 13.3
  dimension "d26" = 5.9346
  dimension "d27" = 5.9346
  dimension "d28" = 5.9346
  dimension "d29" = 5.9346
  dimension "d30" = 9.9936
  dimension "d31" = 3.7218
  dimension "d32" = 3.7271
  dimension "d33" = 5.3038
  dimension "d34" = 2.96
  dimension "d35" = 2.9647
  dimension "d36" = 2.9742
  dimension "d37" = 2.9684
  dimension "d38" = 8.0064
  dimension "d39" = 10
  dimension "d40" = 3.729
  dimension "d41" = 10
  dimension "d42" = 3.729
extrude "Выдавливание1" add sketch "Эскиз1" along normal mid plane 309.9
properties part number "T-SLOT A"
